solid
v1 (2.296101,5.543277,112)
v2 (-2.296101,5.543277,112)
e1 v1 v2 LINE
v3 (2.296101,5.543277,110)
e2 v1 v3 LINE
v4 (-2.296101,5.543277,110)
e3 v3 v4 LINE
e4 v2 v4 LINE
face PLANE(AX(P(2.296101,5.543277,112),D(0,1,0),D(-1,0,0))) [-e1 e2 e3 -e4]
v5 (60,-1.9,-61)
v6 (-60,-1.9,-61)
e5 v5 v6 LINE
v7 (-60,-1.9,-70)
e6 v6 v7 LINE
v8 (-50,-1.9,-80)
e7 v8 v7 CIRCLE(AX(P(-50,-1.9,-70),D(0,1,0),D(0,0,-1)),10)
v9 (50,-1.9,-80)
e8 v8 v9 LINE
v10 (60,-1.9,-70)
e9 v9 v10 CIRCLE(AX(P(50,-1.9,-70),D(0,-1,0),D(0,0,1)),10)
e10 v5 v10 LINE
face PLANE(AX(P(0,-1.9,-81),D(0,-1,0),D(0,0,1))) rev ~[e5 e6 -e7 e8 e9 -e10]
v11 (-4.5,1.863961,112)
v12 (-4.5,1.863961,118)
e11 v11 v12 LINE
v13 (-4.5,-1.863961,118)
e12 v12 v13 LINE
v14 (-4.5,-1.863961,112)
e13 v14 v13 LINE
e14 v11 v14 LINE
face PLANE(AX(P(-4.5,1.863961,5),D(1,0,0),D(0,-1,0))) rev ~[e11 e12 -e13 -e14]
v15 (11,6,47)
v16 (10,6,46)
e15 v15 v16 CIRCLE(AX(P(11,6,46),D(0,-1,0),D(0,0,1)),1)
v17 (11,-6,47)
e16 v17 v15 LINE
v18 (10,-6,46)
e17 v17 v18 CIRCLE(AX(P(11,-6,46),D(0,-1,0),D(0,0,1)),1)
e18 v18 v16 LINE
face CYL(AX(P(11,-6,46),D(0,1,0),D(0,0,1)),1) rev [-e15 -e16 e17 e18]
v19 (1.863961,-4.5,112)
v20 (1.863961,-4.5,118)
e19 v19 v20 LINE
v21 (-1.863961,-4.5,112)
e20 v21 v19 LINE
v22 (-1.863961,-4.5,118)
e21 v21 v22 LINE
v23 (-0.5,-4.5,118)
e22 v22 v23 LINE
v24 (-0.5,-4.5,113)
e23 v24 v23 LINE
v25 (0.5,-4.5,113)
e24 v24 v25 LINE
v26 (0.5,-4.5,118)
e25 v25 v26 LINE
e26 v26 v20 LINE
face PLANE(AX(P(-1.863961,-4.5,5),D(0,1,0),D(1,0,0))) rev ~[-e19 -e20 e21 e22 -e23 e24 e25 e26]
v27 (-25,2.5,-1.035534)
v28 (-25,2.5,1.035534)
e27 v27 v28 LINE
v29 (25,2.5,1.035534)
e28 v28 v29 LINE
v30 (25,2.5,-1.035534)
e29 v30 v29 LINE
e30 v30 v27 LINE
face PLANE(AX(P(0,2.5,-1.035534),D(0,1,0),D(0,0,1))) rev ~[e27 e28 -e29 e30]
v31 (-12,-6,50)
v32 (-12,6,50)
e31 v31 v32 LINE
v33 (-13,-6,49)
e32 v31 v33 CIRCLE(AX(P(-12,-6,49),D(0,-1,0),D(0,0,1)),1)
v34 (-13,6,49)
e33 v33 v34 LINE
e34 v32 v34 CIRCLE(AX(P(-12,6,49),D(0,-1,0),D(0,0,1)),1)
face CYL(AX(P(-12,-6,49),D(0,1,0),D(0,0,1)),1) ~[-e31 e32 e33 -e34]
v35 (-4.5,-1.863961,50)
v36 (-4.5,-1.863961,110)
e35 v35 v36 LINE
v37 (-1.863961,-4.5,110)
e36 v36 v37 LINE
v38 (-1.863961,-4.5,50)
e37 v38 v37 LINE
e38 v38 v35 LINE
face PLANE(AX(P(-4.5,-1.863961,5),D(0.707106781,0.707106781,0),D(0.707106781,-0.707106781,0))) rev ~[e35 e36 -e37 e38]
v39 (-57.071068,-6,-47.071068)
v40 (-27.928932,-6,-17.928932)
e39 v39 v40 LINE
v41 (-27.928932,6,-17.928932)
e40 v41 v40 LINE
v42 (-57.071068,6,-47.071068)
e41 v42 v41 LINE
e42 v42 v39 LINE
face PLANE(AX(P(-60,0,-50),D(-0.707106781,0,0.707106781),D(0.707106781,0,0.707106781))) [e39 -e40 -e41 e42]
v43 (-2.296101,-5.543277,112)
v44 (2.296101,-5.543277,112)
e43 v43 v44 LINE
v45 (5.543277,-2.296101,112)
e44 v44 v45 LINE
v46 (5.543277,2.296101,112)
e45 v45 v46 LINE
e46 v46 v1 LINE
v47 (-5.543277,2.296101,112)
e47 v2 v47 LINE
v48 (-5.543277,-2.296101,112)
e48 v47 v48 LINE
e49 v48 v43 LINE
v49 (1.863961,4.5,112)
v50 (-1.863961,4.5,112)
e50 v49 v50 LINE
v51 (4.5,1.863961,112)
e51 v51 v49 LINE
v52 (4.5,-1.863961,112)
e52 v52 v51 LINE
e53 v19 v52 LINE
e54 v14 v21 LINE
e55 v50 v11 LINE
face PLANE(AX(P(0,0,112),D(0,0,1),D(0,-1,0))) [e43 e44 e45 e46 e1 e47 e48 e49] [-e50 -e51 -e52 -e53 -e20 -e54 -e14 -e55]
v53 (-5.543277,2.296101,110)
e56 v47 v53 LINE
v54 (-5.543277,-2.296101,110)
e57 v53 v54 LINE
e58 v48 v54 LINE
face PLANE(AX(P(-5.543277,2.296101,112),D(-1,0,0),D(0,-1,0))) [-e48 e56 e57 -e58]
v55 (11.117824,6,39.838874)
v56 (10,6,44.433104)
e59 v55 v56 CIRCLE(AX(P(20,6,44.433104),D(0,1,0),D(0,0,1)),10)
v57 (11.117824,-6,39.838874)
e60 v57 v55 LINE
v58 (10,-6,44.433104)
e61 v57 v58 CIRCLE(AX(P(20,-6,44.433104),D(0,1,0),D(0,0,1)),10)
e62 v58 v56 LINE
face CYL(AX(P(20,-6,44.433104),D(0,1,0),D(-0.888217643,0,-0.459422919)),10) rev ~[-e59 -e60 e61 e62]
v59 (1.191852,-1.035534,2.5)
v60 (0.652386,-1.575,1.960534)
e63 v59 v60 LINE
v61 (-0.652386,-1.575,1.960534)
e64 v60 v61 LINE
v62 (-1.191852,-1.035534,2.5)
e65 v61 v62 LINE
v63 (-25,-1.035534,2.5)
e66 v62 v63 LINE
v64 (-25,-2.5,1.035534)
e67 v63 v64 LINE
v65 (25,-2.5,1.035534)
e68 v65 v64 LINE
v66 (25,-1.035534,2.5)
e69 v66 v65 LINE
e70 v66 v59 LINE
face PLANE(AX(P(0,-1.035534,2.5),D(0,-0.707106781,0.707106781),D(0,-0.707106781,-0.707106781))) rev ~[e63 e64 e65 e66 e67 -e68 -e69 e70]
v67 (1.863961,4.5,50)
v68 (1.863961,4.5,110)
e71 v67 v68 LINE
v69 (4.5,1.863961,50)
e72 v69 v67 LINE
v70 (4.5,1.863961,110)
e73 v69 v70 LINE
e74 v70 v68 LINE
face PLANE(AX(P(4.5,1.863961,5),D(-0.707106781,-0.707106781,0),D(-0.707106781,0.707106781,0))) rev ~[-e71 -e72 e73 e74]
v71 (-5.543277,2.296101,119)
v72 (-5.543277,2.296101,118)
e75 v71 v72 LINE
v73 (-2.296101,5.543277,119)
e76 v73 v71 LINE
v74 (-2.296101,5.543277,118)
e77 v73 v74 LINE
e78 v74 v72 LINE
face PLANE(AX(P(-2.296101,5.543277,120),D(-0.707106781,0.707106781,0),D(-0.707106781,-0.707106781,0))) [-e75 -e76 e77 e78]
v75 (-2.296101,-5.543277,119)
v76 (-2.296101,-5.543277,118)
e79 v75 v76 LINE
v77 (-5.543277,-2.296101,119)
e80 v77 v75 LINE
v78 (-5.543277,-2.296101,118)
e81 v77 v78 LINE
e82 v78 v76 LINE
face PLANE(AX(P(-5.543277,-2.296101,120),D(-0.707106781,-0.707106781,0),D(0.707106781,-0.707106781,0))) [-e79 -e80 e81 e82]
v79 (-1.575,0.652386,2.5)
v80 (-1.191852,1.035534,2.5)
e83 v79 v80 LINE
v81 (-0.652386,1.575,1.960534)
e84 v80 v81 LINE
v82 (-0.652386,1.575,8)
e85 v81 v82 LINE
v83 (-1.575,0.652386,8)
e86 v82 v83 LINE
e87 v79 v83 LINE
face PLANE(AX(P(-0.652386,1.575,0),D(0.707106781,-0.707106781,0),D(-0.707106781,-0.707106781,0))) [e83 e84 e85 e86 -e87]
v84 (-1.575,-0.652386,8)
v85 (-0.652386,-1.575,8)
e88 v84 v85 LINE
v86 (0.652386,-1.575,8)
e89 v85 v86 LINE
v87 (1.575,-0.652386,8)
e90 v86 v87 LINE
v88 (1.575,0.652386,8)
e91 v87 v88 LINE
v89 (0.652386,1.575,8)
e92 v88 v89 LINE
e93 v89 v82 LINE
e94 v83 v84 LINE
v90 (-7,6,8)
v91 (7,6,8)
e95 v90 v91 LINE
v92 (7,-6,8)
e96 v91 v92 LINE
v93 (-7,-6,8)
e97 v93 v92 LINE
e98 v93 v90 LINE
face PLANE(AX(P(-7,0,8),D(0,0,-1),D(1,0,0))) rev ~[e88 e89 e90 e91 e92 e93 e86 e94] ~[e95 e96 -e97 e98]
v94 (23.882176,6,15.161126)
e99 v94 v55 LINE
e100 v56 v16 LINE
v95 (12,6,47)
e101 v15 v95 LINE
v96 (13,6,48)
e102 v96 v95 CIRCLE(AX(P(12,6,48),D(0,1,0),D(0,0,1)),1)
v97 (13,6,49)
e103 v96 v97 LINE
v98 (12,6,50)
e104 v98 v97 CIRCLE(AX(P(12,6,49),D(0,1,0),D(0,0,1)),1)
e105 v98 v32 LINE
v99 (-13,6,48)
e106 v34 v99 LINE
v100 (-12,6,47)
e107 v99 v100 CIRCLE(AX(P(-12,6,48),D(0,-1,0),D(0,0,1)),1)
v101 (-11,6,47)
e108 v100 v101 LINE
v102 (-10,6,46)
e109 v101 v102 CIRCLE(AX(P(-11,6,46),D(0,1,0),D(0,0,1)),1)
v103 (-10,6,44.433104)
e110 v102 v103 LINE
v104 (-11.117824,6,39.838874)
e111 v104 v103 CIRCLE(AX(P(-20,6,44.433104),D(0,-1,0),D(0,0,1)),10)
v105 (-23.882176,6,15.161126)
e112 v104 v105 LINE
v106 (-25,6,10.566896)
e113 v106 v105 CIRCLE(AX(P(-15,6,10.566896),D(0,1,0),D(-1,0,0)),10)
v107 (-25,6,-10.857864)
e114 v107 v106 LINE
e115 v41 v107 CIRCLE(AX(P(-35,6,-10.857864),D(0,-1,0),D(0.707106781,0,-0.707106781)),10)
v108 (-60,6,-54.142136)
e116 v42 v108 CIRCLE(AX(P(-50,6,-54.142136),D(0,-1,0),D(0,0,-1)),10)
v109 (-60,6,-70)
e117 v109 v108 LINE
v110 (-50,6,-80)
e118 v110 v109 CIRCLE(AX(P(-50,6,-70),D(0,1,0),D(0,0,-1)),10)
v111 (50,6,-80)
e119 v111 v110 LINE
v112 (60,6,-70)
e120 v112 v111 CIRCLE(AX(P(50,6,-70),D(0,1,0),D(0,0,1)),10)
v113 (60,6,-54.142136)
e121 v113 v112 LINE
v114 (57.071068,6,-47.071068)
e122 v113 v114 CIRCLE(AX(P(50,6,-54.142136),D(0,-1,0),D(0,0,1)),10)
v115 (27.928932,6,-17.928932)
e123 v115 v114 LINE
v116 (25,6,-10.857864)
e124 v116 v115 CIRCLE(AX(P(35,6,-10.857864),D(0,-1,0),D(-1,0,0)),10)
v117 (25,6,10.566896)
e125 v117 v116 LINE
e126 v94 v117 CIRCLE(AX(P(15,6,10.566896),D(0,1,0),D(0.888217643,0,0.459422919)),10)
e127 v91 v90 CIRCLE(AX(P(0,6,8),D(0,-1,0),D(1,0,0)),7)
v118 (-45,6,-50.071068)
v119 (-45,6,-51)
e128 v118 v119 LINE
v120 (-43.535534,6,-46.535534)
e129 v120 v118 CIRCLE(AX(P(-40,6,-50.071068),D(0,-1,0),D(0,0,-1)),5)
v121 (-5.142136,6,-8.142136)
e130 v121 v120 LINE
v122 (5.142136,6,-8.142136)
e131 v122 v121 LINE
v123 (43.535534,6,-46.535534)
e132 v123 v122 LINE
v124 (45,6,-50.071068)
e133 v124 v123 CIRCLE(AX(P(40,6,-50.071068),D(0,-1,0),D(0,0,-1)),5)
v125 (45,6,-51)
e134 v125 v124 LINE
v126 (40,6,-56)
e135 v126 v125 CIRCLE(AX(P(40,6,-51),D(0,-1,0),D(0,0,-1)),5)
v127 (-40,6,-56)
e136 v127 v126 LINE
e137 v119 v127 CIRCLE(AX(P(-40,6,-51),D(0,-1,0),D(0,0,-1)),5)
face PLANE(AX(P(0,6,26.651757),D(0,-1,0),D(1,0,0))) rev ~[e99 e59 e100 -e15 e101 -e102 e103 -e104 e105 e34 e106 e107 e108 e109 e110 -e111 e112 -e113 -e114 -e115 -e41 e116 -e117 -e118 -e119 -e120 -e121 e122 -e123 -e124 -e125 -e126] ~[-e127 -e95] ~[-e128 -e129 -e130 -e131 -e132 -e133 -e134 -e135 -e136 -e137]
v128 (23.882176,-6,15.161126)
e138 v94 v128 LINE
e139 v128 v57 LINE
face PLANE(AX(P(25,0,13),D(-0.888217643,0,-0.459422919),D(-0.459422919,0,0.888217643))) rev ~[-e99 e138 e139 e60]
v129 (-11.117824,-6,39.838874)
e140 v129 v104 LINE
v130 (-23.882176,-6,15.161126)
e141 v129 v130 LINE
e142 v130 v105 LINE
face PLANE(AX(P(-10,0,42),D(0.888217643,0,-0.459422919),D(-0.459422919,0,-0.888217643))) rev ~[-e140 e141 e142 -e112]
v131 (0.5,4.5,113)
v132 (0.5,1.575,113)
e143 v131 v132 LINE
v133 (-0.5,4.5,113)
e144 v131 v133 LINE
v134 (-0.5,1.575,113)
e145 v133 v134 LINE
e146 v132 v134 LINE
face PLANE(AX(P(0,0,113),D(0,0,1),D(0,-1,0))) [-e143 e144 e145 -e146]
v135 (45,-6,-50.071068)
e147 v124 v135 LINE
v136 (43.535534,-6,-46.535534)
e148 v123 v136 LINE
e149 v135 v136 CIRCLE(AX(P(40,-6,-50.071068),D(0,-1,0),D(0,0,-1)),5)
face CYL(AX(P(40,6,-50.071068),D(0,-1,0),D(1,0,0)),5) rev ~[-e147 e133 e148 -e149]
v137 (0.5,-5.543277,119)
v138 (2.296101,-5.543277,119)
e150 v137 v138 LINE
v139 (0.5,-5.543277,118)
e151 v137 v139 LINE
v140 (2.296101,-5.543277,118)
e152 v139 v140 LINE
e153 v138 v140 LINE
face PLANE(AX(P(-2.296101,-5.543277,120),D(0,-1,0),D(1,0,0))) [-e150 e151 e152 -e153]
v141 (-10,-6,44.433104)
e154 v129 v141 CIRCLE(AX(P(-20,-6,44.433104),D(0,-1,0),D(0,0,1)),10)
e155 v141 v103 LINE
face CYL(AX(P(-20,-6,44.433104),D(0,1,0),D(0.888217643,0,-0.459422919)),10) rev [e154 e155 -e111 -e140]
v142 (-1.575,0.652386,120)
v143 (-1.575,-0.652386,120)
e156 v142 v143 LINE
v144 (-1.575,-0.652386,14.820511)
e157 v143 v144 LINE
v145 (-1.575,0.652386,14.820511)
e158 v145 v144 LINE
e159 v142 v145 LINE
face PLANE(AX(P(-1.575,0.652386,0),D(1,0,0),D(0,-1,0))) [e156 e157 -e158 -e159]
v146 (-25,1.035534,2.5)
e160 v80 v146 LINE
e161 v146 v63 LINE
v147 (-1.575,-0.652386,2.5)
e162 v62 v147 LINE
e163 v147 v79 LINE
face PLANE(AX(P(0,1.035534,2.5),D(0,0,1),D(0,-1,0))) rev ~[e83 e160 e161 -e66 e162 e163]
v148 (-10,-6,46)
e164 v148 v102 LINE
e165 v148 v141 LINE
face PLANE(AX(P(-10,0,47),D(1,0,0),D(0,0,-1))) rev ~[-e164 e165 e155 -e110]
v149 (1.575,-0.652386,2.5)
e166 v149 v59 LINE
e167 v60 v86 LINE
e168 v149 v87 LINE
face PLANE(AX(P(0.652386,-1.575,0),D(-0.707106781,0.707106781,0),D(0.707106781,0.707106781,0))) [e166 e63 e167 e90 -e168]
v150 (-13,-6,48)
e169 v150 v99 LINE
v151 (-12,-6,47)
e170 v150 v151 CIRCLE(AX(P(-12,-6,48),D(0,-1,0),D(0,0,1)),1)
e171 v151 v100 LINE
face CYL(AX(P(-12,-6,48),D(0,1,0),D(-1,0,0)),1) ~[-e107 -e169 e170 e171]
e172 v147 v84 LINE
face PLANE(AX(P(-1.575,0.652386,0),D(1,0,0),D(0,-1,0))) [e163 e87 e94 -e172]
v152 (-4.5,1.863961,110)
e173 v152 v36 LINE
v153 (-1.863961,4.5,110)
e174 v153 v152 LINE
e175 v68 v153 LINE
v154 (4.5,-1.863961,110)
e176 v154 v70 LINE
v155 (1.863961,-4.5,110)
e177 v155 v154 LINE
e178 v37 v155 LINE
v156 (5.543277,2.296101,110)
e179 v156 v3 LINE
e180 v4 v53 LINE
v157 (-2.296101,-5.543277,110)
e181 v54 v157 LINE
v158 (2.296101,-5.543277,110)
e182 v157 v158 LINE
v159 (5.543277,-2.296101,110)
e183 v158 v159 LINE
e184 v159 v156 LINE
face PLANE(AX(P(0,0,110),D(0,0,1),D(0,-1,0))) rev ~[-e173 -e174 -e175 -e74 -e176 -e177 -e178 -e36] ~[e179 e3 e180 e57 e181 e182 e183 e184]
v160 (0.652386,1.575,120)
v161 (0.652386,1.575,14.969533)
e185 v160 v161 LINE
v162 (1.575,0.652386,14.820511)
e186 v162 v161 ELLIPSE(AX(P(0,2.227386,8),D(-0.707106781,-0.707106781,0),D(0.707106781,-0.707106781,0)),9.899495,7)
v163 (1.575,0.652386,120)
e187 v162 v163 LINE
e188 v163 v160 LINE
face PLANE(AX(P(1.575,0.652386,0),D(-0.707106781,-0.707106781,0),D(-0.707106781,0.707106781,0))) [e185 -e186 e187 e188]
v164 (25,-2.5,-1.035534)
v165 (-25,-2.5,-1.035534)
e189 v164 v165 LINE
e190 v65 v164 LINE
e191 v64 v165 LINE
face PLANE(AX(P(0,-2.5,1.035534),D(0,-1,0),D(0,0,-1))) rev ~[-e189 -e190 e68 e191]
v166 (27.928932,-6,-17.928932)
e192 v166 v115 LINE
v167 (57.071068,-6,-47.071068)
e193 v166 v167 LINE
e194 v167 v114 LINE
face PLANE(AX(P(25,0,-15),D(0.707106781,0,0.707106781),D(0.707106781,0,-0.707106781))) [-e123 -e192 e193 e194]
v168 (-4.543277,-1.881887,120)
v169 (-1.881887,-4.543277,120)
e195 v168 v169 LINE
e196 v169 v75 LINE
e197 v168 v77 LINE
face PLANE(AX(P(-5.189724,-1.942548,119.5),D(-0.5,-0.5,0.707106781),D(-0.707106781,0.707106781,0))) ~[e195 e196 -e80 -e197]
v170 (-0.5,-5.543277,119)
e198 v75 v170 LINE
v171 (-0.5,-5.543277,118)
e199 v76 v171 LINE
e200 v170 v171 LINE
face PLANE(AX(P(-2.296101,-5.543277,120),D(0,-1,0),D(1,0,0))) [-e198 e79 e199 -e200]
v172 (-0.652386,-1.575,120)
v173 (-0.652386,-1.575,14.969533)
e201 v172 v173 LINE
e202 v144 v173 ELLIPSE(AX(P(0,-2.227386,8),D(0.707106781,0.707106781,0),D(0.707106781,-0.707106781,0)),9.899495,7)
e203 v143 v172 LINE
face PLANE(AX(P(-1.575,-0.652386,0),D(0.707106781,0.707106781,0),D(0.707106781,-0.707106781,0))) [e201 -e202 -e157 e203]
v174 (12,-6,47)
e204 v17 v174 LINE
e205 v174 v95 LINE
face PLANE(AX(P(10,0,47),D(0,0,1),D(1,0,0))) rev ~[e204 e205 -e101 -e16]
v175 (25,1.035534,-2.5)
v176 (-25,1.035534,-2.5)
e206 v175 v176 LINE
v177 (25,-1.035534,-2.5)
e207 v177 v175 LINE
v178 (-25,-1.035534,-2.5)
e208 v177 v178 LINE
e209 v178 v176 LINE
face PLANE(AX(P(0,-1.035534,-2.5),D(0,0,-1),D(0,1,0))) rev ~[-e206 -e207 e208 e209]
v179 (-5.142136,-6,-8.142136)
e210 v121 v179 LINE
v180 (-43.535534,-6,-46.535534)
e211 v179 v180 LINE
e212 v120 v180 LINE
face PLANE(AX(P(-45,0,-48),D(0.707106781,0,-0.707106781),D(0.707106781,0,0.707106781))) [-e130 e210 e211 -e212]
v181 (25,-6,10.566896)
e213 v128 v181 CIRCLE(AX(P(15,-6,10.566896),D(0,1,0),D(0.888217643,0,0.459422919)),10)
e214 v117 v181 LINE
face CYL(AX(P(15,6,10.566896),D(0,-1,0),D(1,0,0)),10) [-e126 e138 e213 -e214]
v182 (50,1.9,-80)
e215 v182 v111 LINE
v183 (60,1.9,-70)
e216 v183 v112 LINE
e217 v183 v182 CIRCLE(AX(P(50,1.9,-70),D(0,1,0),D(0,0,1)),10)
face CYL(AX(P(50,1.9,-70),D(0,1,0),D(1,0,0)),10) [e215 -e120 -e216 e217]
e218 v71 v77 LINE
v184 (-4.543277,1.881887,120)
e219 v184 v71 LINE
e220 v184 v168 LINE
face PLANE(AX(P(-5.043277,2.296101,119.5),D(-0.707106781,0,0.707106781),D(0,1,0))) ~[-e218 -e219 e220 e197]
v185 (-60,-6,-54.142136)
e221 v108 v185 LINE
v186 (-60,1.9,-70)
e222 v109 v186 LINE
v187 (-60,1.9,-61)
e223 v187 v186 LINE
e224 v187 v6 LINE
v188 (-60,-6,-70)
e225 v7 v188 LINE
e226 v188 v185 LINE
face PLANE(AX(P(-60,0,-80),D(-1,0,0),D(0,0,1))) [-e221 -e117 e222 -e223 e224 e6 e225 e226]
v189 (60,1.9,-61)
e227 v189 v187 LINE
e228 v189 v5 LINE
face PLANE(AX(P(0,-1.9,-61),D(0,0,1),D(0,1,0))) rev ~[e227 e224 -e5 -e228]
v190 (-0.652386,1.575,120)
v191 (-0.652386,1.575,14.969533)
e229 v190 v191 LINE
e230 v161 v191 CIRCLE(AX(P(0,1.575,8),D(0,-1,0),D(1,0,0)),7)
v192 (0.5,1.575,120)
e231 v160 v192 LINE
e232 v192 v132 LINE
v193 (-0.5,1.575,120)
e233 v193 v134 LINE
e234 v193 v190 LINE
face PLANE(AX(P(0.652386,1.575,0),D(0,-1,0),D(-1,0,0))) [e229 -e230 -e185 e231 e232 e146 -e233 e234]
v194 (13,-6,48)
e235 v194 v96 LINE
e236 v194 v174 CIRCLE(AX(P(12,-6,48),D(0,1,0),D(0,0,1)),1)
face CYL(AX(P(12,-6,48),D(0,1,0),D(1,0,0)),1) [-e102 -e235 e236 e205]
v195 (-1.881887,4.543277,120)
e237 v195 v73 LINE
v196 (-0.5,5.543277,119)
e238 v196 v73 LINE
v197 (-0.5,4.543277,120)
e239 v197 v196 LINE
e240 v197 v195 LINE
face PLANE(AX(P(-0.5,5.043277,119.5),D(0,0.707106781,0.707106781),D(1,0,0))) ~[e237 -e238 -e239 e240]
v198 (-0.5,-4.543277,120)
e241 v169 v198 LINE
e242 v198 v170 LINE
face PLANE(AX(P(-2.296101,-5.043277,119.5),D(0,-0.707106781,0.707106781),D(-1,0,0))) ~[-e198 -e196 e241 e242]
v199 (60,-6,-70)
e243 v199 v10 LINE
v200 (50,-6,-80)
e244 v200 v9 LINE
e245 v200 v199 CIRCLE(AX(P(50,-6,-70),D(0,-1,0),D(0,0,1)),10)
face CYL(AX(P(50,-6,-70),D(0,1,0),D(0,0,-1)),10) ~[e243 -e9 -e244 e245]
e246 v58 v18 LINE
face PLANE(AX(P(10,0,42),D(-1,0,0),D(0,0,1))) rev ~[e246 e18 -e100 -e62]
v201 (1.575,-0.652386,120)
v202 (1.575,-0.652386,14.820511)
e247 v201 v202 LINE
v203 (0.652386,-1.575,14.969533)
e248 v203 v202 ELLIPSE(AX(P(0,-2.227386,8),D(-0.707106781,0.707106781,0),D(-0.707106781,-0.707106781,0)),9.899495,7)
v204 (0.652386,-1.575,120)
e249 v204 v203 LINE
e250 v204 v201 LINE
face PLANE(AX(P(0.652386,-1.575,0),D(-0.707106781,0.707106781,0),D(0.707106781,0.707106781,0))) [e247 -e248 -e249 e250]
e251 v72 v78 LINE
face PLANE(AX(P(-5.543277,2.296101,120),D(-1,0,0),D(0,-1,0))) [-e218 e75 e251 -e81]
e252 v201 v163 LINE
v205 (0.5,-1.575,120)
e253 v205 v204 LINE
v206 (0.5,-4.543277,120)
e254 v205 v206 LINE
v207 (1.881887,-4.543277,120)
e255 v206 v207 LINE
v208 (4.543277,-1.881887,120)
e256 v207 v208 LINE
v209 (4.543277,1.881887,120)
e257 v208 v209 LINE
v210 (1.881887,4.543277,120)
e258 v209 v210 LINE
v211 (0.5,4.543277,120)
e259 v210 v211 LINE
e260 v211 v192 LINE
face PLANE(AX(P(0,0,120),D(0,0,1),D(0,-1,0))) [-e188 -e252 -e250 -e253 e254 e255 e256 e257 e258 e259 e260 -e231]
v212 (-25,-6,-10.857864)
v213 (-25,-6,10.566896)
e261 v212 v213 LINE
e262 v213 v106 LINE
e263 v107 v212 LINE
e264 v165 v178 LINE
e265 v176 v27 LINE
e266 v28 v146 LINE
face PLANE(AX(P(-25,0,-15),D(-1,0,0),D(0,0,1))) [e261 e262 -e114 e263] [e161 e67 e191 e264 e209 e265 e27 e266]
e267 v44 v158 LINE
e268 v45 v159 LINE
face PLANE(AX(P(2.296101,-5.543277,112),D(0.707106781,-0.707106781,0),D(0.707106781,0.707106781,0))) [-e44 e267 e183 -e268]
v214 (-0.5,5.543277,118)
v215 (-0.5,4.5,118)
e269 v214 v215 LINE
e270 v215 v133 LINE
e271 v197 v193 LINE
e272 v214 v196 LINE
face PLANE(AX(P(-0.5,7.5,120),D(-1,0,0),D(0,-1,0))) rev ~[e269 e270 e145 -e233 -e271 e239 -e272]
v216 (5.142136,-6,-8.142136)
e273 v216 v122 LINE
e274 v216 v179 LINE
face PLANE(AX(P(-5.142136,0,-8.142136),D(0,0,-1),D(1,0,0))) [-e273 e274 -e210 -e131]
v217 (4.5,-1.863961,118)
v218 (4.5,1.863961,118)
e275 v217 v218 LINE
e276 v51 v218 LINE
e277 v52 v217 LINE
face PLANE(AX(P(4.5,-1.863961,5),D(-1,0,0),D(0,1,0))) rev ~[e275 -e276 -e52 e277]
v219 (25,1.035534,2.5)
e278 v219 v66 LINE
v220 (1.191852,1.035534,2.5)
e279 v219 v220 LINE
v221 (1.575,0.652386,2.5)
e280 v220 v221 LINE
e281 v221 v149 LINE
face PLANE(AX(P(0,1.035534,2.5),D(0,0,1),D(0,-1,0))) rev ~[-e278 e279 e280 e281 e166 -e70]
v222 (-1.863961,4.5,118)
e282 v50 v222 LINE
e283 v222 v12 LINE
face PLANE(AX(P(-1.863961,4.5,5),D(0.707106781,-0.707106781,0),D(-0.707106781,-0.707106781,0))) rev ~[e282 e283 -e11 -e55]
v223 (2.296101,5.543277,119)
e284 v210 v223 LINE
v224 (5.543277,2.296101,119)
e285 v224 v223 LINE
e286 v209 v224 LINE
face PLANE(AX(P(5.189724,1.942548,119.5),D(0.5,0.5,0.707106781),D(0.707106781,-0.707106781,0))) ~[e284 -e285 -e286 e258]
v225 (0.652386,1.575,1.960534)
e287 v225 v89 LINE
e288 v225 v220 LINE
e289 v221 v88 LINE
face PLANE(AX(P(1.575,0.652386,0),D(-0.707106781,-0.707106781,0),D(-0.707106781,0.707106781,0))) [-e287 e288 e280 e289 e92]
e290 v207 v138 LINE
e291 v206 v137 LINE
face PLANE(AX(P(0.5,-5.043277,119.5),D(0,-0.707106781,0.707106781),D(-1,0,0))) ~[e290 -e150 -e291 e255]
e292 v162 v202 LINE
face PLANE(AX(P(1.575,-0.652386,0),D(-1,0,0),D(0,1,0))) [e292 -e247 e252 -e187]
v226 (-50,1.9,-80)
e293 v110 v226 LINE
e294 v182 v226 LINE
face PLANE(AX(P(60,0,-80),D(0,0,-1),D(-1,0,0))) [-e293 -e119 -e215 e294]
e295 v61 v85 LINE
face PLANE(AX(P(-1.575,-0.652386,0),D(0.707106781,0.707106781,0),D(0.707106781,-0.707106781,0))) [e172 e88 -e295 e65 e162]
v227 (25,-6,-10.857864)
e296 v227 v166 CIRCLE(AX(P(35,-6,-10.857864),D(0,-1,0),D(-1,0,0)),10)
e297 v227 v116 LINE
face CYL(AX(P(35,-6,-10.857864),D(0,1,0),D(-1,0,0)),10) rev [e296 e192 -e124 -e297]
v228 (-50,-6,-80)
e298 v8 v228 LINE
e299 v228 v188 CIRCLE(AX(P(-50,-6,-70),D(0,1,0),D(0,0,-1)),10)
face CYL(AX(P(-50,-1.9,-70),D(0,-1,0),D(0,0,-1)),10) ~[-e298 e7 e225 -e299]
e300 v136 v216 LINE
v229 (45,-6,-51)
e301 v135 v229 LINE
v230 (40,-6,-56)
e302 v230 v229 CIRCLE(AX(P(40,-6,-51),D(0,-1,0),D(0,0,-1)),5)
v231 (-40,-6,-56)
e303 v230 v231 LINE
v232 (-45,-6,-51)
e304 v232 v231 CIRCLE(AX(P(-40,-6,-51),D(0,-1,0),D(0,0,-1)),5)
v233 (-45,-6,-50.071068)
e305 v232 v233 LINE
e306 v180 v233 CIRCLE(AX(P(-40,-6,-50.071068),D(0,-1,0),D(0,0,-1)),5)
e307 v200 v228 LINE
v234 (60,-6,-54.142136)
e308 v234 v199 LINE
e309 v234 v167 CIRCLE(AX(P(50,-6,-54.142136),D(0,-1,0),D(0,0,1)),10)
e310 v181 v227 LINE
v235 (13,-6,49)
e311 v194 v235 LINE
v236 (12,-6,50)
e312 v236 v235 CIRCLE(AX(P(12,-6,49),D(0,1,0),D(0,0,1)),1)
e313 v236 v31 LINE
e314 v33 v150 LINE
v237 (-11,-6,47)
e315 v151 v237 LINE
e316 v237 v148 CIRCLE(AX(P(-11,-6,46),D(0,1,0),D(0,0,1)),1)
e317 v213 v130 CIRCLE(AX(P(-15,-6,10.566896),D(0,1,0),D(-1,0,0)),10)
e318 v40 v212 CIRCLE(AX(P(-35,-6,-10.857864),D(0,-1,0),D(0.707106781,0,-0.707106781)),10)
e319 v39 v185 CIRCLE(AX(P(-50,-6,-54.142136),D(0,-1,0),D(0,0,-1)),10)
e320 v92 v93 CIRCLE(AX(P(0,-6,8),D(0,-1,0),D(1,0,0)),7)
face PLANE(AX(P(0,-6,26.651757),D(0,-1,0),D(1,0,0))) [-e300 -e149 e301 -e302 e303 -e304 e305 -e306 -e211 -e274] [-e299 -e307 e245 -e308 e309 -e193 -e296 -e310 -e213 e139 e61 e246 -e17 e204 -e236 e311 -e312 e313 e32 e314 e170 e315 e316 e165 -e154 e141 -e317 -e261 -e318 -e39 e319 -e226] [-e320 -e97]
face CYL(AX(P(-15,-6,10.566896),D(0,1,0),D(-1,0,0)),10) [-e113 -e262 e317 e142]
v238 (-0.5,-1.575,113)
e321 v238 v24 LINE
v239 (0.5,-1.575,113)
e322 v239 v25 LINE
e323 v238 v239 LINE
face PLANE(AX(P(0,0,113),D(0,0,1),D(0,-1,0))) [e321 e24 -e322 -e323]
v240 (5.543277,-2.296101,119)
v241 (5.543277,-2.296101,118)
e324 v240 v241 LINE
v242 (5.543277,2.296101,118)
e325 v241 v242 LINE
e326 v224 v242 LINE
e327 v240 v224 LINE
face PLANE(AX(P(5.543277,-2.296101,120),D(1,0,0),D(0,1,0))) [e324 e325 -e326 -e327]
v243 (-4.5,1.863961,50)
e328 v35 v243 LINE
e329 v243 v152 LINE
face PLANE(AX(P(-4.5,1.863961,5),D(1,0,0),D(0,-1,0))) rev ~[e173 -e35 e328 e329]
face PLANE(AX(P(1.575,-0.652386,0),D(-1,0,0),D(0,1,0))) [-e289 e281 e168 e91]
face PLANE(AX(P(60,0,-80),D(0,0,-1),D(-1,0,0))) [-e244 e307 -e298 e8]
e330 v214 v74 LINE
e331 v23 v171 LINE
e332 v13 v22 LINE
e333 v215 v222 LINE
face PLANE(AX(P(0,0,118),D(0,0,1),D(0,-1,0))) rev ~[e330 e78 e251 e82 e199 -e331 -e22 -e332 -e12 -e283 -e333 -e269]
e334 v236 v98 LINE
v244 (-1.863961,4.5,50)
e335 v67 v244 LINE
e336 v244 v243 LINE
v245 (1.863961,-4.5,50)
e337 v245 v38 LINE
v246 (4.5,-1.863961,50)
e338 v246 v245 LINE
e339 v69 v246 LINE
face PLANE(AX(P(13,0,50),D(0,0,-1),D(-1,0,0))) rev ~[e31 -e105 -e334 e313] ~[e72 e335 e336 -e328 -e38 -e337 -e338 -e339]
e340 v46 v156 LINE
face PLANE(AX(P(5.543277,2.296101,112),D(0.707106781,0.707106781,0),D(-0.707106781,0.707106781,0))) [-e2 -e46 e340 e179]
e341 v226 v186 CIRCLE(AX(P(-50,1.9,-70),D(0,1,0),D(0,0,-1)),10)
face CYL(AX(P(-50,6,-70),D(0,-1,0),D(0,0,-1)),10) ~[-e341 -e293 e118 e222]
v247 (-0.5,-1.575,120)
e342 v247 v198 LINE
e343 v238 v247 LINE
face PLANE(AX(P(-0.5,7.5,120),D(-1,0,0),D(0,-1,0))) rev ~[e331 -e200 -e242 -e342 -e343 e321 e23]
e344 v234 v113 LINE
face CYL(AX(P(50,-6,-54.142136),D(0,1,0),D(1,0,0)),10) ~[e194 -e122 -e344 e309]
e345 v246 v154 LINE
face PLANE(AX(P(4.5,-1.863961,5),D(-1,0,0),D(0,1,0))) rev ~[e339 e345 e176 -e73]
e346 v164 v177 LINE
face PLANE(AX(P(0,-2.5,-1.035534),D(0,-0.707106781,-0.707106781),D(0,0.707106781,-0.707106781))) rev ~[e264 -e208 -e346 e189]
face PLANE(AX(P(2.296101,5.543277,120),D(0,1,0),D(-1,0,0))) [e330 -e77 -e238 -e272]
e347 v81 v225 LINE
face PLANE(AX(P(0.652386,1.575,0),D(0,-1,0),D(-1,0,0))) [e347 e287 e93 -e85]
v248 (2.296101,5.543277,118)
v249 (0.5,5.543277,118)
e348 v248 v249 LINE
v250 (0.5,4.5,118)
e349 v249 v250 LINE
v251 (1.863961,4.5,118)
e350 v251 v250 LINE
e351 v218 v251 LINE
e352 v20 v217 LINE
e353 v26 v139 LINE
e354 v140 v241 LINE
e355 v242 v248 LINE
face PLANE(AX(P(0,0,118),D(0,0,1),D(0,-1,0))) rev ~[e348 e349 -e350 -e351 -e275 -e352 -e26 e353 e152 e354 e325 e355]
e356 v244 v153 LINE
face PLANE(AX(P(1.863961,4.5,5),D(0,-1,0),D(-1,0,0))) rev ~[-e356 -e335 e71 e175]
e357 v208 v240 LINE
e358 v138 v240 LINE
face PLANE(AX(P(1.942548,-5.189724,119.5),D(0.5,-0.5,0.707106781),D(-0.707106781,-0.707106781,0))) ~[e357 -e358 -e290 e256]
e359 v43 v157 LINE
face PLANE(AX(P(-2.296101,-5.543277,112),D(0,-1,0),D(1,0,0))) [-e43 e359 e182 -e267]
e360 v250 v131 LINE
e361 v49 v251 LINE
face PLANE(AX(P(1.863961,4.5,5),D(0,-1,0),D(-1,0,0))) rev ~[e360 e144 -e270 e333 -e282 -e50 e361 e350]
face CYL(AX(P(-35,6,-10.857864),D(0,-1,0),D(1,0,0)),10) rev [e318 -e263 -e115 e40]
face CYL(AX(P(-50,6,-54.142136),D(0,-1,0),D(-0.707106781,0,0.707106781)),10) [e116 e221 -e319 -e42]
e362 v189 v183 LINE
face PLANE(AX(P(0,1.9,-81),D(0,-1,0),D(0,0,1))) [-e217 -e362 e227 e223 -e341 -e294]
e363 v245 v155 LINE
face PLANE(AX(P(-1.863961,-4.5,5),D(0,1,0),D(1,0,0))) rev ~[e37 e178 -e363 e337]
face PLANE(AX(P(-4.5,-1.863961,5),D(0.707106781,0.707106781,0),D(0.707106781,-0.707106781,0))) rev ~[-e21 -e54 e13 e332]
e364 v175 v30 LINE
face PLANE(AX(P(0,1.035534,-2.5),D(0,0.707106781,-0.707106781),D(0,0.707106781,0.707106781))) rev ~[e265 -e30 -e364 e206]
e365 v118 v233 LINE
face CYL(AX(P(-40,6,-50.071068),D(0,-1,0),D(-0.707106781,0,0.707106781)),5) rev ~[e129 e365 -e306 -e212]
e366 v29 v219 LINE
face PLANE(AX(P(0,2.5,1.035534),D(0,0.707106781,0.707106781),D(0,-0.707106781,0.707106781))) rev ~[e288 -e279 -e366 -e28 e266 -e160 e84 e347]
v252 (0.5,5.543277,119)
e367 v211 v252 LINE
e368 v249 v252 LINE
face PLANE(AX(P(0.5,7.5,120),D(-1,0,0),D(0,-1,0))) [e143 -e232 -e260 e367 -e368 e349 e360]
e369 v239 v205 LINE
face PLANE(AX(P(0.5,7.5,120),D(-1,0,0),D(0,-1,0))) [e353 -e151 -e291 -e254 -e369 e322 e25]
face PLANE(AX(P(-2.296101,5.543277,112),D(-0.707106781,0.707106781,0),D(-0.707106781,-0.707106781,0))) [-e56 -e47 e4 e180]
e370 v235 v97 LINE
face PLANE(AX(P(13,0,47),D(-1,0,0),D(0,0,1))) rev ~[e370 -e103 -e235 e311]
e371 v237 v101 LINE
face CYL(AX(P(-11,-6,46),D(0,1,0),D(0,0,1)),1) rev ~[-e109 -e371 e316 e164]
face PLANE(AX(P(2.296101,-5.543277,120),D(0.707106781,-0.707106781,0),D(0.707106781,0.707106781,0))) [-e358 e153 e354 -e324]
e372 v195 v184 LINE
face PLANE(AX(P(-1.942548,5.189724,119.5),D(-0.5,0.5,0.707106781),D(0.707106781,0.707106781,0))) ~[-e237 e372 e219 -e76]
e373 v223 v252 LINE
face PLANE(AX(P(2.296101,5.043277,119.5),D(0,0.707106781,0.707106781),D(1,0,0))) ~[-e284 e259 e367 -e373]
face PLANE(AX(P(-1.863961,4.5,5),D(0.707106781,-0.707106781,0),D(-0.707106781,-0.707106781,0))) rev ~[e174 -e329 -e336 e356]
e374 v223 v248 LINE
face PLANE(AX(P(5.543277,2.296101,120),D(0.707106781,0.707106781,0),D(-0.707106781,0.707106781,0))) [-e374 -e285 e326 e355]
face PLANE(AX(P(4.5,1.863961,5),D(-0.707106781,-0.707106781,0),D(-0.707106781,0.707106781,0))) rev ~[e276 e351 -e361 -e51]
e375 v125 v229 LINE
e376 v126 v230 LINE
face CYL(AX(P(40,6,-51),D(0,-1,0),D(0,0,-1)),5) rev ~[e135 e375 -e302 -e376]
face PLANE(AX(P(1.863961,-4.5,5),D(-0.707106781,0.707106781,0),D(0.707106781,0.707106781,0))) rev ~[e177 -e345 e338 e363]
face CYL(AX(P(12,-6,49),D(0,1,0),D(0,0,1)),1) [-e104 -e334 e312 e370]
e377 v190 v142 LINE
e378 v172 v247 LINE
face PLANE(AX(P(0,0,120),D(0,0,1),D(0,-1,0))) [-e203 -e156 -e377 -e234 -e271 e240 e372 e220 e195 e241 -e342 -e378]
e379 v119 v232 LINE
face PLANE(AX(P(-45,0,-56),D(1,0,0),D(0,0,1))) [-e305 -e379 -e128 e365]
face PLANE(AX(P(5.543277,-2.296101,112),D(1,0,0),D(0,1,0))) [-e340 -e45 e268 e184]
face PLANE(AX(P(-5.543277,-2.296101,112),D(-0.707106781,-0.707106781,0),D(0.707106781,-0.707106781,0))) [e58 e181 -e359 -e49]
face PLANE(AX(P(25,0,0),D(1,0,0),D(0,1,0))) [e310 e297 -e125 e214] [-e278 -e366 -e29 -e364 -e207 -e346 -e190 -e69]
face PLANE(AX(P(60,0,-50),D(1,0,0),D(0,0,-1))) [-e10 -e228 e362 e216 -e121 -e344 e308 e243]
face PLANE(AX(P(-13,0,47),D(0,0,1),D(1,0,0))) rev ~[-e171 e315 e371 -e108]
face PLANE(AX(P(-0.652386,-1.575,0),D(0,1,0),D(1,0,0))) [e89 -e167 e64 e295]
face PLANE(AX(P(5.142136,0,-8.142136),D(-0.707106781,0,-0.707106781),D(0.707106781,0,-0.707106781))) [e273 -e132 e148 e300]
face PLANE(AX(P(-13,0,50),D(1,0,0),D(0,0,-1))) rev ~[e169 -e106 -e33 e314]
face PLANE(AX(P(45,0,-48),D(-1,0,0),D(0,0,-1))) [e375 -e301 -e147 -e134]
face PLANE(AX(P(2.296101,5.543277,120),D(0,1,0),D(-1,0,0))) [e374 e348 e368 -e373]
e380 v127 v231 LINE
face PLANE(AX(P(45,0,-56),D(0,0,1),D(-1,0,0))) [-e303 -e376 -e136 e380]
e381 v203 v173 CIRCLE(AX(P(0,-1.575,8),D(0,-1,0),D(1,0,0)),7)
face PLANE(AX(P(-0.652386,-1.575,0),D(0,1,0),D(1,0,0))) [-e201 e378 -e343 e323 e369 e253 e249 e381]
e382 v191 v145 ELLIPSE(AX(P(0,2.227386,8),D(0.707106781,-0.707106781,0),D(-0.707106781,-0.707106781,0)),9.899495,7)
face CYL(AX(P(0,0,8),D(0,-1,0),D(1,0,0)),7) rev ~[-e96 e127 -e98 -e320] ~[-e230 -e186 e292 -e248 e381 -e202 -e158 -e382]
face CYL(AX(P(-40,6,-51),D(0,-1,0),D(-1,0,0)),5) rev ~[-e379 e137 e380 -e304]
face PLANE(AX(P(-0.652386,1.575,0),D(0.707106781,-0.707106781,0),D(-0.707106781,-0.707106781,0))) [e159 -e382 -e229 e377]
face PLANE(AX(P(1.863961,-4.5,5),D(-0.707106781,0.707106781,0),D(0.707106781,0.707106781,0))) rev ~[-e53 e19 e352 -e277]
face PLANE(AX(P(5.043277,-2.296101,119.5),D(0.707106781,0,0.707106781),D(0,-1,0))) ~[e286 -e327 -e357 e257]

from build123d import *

# Parameters (mm, degrees)
PAD_DEPTH            = 25
PAD_DEPTH_BACK       = 25
PAD001_START         = 5
PAD001_DEPTH         = 115
PAD002_DEPTH         = 6
PAD002_DEPTH_BACK    = 6
POCKET_DEPTH         = 10.001
POCKET_DEPTH_BACK    = 10.001
POCKET001_DEPTH      = 120.001
PAD003_DEPTH         = 2
LINEARPATTERN_COUNT  = 2
LINEARPATTERN_PITCH  = 8
SKETCH006_W          = 15
SKETCH006_H          = 1
POCKET002_DEPTH      = 7
PAD004_DEPTH         = 6
PAD004_DEPTH_BACK    = 6
SKETCH008_W          = 3.8
SKETCH008_H          = 20
POCKET003_DEPTH      = 60.001
POCKET003_DEPTH_BACK = 60.001
POCKET004_DEPTH      = 10.001
POCKET004_DEPTH_BACK = 10.001
FILLET_R             = 10
FILLET001_R          = 10
FILLET002_R          = 5
FILLET003_R          = 10
FILLET004_R          = 1
FILLET005_R          = 1
SKETCH010_W          = 10
SKETCH010_H          = 30
POCKET005_DEPTH      = 60.001
POCKET005_DEPTH_BACK = 60.001
SKETCH011_W          = 10
SKETCH011_H          = 30
POCKET006_DEPTH      = 60.001
POCKET006_DEPTH_BACK = 60.001
FILLET006_R          = 10
CHAMFER_SIZE         = 1
CHAMFER001_SIZE      = 1


with BuildPart() as part:
    # Sketch → Pad (new body, two sides)
    with BuildSketch(Plane.YZ) as pad_sk:
        Polygon((10, -4.142136), (10, 4.142136), (4.142136, 10), (-4.142136, 10), (-10, 4.142136), (-10, -4.142136), (-4.142136, -10), (4.142136, -10), align=None)
        Polygon((2.5, 1.035534), (1.035534, 2.5), (-1.035534, 2.5), (-2.5, 1.035534), (-2.5, -1.035534), (-1.035534, -2.5), (1.035534, -2.5), (2.5, -1.035534), align=None, mode=Mode.SUBTRACT)
    extrude(amount=PAD_DEPTH)
    extrude(pad_sk.sketch, amount=-PAD_DEPTH_BACK)

    # Sketch001 → Pad001 (join)
    with BuildSketch(Plane.XY.offset(PAD001_START)):
        Polygon((4.5, -1.863961), (4.5, 1.863961), (1.863961, 4.5), (-1.863961, 4.5), (-4.5, 1.863961), (-4.5, -1.863961), (-1.863961, -4.5), (1.863961, -4.5), align=None)
        Polygon((1.575, -0.652386), (1.575, 0.652386), (0.652386, 1.575), (-0.652386, 1.575), (-1.575, 0.652386), (-1.575, -0.652386), (-0.652386, -1.575), (0.652386, -1.575), align=None, mode=Mode.SUBTRACT)
    extrude(amount=PAD001_DEPTH)

    # Sketch002 → Pad002 (join, two sides)
    with BuildSketch(Plane.XZ) as pad002_sk:
        Polygon((-25, 8), (25, 8), (25, 13), (10, 42), (10, 47), (13, 47), (13, 50), (-13, 50), (-13, 47), (-10, 47), (-10, 42), (-25, 13), align=None)
    extrude(amount=PAD002_DEPTH)
    extrude(pad002_sk.sketch, amount=-PAD002_DEPTH_BACK)

    # Sketch003 → Pocket (cut, two sides)
    with BuildSketch(Plane.XZ) as pocket_sk:
        with BuildLine():
            ThreePointArc((7, 8), (0, 15), (-7, 8))
            Line((-7, 8), (7, 8))
        make_face()
    extrude(amount=-POCKET_DEPTH, mode=Mode.SUBTRACT)
    extrude(pocket_sk.sketch, amount=POCKET_DEPTH_BACK, mode=Mode.SUBTRACT)

    # Sketch004 → Pocket001 (cut, through all)
    with BuildSketch(Plane.XY):
        Polygon((1.575, -0.652386), (1.575, 0.652386), (0.652386, 1.575), (-0.652386, 1.575), (-1.575, 0.652386), (-1.575, -0.652386), (-0.652386, -1.575), (0.652386, -1.575), align=None)
    extrude(amount=POCKET001_DEPTH, mode=Mode.SUBTRACT)

    # Sketch005 (on Face68 of Pocket001) → Pad003 (join)
    with BuildSketch(Plane(origin=(0, 0, 120), x_dir=(0, -1, 0), z_dir=(0, 0, 1))):
        Polygon((5.543277, -2.296101), (5.543277, 2.296101), (2.296101, 5.543277), (-2.296101, 5.543277), (-5.543277, 2.296101), (-5.543277, -2.296101), (-2.296101, -5.543277), (2.296101, -5.543277), align=None)
        Polygon((1.339392, -3.233578), (3.233578, -1.339392), (3.233578, 1.339392), (1.339392, 3.233578), (-1.339392, 3.233578), (-3.233578, 1.339392), (-3.233578, -1.339392), (-1.339392, -3.233578), align=None, mode=Mode.SUBTRACT)
    pad003 = extrude(amount=-PAD003_DEPTH)

    # LinearPattern: Pad003 ×2
    with Locations(*[(0, 0, -i * LINEARPATTERN_PITCH) for i in range(1, LINEARPATTERN_COUNT)]):
        add(pad003)

    # Sketch006 (on Face80 of LinearPattern) → Pocket002 (cut)
    with BuildSketch(Plane(origin=(0, 0, 120), x_dir=(0, -1, 0), z_dir=(0, 0, 1))):
        Rectangle(SKETCH006_W, SKETCH006_H)
    extrude(amount=-POCKET002_DEPTH, mode=Mode.SUBTRACT)

    # Sketch007 → Pad004 (join, two sides)
    with BuildSketch(Plane.XZ) as pad004_sk:
        Polygon((-25, -5), (25, -5), (25, -15), (60, -50), (60, -80), (-60, -80), (-60, -50), (-25, -15), align=None)
    extrude(amount=PAD004_DEPTH)
    extrude(pad004_sk.sketch, amount=-PAD004_DEPTH_BACK)

    # Sketch008 → Pocket003 (cut, two sides)
    with BuildSketch(Plane.YZ) as pocket003_sk:
        with Locations((0, -71)):
            Rectangle(SKETCH008_W, SKETCH008_H)
    extrude(amount=-POCKET003_DEPTH, mode=Mode.SUBTRACT)
    extrude(pocket003_sk.sketch, amount=POCKET003_DEPTH_BACK, mode=Mode.SUBTRACT)

    # Sketch009 → Pocket004 (cut, two sides)
    with BuildSketch(Plane.XZ) as pocket004_sk:
        Polygon((-5.142136, -8.142136), (5.142136, -8.142136), (45, -48), (45, -56), (-45, -56), (-45, -48), align=None)
    extrude(amount=-POCKET004_DEPTH, mode=Mode.SUBTRACT)
    extrude(pocket004_sk.sketch, amount=POCKET004_DEPTH_BACK, mode=Mode.SUBTRACT)

    # Fillet
    fillet_edges = [part.edges().sort_by_distance(p)[0] for p in [
        (25, 0, -15),
        (-25, 0, -15),
    ]]
    fillet(fillet_edges, radius=FILLET_R)

    # Fillet001
    fillet001_edges = [part.edges().sort_by_distance(p)[0] for p in [
        (-60, 0, -50),
        (60, 0, -50),
    ]]
    fillet(fillet001_edges, radius=FILLET001_R)

    # Fillet002
    fillet002_edges = [part.edges().sort_by_distance(p)[0] for p in [
        (-45, 0, -56),
        (-45, 0, -48),
        (45, 0, -48),
        (45, 0, -56),
    ]]
    fillet(fillet002_edges, radius=FILLET002_R)

    # Fillet003
    fillet003_edges = [part.edges().sort_by_distance(p)[0] for p in [
        (-25, 0, 13),
        (-10, 0, 42),
        (10, 0, 42),
        (25, 0, 13),
    ]]
    fillet(fillet003_edges, radius=FILLET003_R)

    # Fillet004
    fillet004_edges = [part.edges().sort_by_distance(p)[0] for p in [
        (10, 0, 47),
        (13, 0, 47),
        (13, 0, 50),
    ]]
    fillet(fillet004_edges, radius=FILLET004_R)

    # Fillet005
    fillet005_edges = [part.edges().sort_by_distance(p)[0] for p in [
        (-10, 0, 47),
        (-13, 0, 47),
        (-13, 0, 50),
    ]]
    fillet(fillet005_edges, radius=FILLET005_R)

    # Sketch010 → Pocket005 (cut, two sides)
    with BuildSketch(Plane.YZ) as pocket005_sk:
        with Locations((11, 0)):
            Rectangle(SKETCH010_W, SKETCH010_H)
    extrude(amount=-POCKET005_DEPTH, mode=Mode.SUBTRACT)
    extrude(pocket005_sk.sketch, amount=POCKET005_DEPTH_BACK, mode=Mode.SUBTRACT)

    # Sketch011 → Pocket006 (cut, two sides)
    with BuildSketch(Plane.YZ) as pocket006_sk:
        with Locations((-11, 0)):
            Rectangle(SKETCH011_W, SKETCH011_H)
    extrude(amount=-POCKET006_DEPTH, mode=Mode.SUBTRACT)
    extrude(pocket006_sk.sketch, amount=POCKET006_DEPTH_BACK, mode=Mode.SUBTRACT)

    # Fillet006
    fillet006_edges = [part.edges().sort_by_distance(p)[0] for p in [
        (60, -3.95, -80),
        (60, 3.95, -80),
        (-60, -3.95, -80),
        (-60, 3.95, -80),
    ]]
    fillet(fillet006_edges, radius=FILLET006_R)

    # Chamfer
    chamfer_edges = [part.edges().sort_by_distance(p)[0] for p in [
        (1.39805, 5.543277, 120),
        (3.919689, 3.919689, 120),
        (5.543277, 0, 120),
        (3.919689, -3.919689, 120),
        (1.39805, -5.543277, 120),
    ]]
    chamfer(chamfer_edges, length=CHAMFER_SIZE)

    # Chamfer001
    chamfer001_edges = [part.edges().sort_by_distance(p)[0] for p in [
        (-1.39805, 5.543277, 120),
        (-3.919689, 3.919689, 120),
        (-5.543277, 0, 120),
        (-3.919689, -3.919689, 120),
        (-1.39805, -5.543277, 120),
    ]]
    chamfer(chamfer001_edges, length=CHAMFER001_SIZE)


solid = part.part
